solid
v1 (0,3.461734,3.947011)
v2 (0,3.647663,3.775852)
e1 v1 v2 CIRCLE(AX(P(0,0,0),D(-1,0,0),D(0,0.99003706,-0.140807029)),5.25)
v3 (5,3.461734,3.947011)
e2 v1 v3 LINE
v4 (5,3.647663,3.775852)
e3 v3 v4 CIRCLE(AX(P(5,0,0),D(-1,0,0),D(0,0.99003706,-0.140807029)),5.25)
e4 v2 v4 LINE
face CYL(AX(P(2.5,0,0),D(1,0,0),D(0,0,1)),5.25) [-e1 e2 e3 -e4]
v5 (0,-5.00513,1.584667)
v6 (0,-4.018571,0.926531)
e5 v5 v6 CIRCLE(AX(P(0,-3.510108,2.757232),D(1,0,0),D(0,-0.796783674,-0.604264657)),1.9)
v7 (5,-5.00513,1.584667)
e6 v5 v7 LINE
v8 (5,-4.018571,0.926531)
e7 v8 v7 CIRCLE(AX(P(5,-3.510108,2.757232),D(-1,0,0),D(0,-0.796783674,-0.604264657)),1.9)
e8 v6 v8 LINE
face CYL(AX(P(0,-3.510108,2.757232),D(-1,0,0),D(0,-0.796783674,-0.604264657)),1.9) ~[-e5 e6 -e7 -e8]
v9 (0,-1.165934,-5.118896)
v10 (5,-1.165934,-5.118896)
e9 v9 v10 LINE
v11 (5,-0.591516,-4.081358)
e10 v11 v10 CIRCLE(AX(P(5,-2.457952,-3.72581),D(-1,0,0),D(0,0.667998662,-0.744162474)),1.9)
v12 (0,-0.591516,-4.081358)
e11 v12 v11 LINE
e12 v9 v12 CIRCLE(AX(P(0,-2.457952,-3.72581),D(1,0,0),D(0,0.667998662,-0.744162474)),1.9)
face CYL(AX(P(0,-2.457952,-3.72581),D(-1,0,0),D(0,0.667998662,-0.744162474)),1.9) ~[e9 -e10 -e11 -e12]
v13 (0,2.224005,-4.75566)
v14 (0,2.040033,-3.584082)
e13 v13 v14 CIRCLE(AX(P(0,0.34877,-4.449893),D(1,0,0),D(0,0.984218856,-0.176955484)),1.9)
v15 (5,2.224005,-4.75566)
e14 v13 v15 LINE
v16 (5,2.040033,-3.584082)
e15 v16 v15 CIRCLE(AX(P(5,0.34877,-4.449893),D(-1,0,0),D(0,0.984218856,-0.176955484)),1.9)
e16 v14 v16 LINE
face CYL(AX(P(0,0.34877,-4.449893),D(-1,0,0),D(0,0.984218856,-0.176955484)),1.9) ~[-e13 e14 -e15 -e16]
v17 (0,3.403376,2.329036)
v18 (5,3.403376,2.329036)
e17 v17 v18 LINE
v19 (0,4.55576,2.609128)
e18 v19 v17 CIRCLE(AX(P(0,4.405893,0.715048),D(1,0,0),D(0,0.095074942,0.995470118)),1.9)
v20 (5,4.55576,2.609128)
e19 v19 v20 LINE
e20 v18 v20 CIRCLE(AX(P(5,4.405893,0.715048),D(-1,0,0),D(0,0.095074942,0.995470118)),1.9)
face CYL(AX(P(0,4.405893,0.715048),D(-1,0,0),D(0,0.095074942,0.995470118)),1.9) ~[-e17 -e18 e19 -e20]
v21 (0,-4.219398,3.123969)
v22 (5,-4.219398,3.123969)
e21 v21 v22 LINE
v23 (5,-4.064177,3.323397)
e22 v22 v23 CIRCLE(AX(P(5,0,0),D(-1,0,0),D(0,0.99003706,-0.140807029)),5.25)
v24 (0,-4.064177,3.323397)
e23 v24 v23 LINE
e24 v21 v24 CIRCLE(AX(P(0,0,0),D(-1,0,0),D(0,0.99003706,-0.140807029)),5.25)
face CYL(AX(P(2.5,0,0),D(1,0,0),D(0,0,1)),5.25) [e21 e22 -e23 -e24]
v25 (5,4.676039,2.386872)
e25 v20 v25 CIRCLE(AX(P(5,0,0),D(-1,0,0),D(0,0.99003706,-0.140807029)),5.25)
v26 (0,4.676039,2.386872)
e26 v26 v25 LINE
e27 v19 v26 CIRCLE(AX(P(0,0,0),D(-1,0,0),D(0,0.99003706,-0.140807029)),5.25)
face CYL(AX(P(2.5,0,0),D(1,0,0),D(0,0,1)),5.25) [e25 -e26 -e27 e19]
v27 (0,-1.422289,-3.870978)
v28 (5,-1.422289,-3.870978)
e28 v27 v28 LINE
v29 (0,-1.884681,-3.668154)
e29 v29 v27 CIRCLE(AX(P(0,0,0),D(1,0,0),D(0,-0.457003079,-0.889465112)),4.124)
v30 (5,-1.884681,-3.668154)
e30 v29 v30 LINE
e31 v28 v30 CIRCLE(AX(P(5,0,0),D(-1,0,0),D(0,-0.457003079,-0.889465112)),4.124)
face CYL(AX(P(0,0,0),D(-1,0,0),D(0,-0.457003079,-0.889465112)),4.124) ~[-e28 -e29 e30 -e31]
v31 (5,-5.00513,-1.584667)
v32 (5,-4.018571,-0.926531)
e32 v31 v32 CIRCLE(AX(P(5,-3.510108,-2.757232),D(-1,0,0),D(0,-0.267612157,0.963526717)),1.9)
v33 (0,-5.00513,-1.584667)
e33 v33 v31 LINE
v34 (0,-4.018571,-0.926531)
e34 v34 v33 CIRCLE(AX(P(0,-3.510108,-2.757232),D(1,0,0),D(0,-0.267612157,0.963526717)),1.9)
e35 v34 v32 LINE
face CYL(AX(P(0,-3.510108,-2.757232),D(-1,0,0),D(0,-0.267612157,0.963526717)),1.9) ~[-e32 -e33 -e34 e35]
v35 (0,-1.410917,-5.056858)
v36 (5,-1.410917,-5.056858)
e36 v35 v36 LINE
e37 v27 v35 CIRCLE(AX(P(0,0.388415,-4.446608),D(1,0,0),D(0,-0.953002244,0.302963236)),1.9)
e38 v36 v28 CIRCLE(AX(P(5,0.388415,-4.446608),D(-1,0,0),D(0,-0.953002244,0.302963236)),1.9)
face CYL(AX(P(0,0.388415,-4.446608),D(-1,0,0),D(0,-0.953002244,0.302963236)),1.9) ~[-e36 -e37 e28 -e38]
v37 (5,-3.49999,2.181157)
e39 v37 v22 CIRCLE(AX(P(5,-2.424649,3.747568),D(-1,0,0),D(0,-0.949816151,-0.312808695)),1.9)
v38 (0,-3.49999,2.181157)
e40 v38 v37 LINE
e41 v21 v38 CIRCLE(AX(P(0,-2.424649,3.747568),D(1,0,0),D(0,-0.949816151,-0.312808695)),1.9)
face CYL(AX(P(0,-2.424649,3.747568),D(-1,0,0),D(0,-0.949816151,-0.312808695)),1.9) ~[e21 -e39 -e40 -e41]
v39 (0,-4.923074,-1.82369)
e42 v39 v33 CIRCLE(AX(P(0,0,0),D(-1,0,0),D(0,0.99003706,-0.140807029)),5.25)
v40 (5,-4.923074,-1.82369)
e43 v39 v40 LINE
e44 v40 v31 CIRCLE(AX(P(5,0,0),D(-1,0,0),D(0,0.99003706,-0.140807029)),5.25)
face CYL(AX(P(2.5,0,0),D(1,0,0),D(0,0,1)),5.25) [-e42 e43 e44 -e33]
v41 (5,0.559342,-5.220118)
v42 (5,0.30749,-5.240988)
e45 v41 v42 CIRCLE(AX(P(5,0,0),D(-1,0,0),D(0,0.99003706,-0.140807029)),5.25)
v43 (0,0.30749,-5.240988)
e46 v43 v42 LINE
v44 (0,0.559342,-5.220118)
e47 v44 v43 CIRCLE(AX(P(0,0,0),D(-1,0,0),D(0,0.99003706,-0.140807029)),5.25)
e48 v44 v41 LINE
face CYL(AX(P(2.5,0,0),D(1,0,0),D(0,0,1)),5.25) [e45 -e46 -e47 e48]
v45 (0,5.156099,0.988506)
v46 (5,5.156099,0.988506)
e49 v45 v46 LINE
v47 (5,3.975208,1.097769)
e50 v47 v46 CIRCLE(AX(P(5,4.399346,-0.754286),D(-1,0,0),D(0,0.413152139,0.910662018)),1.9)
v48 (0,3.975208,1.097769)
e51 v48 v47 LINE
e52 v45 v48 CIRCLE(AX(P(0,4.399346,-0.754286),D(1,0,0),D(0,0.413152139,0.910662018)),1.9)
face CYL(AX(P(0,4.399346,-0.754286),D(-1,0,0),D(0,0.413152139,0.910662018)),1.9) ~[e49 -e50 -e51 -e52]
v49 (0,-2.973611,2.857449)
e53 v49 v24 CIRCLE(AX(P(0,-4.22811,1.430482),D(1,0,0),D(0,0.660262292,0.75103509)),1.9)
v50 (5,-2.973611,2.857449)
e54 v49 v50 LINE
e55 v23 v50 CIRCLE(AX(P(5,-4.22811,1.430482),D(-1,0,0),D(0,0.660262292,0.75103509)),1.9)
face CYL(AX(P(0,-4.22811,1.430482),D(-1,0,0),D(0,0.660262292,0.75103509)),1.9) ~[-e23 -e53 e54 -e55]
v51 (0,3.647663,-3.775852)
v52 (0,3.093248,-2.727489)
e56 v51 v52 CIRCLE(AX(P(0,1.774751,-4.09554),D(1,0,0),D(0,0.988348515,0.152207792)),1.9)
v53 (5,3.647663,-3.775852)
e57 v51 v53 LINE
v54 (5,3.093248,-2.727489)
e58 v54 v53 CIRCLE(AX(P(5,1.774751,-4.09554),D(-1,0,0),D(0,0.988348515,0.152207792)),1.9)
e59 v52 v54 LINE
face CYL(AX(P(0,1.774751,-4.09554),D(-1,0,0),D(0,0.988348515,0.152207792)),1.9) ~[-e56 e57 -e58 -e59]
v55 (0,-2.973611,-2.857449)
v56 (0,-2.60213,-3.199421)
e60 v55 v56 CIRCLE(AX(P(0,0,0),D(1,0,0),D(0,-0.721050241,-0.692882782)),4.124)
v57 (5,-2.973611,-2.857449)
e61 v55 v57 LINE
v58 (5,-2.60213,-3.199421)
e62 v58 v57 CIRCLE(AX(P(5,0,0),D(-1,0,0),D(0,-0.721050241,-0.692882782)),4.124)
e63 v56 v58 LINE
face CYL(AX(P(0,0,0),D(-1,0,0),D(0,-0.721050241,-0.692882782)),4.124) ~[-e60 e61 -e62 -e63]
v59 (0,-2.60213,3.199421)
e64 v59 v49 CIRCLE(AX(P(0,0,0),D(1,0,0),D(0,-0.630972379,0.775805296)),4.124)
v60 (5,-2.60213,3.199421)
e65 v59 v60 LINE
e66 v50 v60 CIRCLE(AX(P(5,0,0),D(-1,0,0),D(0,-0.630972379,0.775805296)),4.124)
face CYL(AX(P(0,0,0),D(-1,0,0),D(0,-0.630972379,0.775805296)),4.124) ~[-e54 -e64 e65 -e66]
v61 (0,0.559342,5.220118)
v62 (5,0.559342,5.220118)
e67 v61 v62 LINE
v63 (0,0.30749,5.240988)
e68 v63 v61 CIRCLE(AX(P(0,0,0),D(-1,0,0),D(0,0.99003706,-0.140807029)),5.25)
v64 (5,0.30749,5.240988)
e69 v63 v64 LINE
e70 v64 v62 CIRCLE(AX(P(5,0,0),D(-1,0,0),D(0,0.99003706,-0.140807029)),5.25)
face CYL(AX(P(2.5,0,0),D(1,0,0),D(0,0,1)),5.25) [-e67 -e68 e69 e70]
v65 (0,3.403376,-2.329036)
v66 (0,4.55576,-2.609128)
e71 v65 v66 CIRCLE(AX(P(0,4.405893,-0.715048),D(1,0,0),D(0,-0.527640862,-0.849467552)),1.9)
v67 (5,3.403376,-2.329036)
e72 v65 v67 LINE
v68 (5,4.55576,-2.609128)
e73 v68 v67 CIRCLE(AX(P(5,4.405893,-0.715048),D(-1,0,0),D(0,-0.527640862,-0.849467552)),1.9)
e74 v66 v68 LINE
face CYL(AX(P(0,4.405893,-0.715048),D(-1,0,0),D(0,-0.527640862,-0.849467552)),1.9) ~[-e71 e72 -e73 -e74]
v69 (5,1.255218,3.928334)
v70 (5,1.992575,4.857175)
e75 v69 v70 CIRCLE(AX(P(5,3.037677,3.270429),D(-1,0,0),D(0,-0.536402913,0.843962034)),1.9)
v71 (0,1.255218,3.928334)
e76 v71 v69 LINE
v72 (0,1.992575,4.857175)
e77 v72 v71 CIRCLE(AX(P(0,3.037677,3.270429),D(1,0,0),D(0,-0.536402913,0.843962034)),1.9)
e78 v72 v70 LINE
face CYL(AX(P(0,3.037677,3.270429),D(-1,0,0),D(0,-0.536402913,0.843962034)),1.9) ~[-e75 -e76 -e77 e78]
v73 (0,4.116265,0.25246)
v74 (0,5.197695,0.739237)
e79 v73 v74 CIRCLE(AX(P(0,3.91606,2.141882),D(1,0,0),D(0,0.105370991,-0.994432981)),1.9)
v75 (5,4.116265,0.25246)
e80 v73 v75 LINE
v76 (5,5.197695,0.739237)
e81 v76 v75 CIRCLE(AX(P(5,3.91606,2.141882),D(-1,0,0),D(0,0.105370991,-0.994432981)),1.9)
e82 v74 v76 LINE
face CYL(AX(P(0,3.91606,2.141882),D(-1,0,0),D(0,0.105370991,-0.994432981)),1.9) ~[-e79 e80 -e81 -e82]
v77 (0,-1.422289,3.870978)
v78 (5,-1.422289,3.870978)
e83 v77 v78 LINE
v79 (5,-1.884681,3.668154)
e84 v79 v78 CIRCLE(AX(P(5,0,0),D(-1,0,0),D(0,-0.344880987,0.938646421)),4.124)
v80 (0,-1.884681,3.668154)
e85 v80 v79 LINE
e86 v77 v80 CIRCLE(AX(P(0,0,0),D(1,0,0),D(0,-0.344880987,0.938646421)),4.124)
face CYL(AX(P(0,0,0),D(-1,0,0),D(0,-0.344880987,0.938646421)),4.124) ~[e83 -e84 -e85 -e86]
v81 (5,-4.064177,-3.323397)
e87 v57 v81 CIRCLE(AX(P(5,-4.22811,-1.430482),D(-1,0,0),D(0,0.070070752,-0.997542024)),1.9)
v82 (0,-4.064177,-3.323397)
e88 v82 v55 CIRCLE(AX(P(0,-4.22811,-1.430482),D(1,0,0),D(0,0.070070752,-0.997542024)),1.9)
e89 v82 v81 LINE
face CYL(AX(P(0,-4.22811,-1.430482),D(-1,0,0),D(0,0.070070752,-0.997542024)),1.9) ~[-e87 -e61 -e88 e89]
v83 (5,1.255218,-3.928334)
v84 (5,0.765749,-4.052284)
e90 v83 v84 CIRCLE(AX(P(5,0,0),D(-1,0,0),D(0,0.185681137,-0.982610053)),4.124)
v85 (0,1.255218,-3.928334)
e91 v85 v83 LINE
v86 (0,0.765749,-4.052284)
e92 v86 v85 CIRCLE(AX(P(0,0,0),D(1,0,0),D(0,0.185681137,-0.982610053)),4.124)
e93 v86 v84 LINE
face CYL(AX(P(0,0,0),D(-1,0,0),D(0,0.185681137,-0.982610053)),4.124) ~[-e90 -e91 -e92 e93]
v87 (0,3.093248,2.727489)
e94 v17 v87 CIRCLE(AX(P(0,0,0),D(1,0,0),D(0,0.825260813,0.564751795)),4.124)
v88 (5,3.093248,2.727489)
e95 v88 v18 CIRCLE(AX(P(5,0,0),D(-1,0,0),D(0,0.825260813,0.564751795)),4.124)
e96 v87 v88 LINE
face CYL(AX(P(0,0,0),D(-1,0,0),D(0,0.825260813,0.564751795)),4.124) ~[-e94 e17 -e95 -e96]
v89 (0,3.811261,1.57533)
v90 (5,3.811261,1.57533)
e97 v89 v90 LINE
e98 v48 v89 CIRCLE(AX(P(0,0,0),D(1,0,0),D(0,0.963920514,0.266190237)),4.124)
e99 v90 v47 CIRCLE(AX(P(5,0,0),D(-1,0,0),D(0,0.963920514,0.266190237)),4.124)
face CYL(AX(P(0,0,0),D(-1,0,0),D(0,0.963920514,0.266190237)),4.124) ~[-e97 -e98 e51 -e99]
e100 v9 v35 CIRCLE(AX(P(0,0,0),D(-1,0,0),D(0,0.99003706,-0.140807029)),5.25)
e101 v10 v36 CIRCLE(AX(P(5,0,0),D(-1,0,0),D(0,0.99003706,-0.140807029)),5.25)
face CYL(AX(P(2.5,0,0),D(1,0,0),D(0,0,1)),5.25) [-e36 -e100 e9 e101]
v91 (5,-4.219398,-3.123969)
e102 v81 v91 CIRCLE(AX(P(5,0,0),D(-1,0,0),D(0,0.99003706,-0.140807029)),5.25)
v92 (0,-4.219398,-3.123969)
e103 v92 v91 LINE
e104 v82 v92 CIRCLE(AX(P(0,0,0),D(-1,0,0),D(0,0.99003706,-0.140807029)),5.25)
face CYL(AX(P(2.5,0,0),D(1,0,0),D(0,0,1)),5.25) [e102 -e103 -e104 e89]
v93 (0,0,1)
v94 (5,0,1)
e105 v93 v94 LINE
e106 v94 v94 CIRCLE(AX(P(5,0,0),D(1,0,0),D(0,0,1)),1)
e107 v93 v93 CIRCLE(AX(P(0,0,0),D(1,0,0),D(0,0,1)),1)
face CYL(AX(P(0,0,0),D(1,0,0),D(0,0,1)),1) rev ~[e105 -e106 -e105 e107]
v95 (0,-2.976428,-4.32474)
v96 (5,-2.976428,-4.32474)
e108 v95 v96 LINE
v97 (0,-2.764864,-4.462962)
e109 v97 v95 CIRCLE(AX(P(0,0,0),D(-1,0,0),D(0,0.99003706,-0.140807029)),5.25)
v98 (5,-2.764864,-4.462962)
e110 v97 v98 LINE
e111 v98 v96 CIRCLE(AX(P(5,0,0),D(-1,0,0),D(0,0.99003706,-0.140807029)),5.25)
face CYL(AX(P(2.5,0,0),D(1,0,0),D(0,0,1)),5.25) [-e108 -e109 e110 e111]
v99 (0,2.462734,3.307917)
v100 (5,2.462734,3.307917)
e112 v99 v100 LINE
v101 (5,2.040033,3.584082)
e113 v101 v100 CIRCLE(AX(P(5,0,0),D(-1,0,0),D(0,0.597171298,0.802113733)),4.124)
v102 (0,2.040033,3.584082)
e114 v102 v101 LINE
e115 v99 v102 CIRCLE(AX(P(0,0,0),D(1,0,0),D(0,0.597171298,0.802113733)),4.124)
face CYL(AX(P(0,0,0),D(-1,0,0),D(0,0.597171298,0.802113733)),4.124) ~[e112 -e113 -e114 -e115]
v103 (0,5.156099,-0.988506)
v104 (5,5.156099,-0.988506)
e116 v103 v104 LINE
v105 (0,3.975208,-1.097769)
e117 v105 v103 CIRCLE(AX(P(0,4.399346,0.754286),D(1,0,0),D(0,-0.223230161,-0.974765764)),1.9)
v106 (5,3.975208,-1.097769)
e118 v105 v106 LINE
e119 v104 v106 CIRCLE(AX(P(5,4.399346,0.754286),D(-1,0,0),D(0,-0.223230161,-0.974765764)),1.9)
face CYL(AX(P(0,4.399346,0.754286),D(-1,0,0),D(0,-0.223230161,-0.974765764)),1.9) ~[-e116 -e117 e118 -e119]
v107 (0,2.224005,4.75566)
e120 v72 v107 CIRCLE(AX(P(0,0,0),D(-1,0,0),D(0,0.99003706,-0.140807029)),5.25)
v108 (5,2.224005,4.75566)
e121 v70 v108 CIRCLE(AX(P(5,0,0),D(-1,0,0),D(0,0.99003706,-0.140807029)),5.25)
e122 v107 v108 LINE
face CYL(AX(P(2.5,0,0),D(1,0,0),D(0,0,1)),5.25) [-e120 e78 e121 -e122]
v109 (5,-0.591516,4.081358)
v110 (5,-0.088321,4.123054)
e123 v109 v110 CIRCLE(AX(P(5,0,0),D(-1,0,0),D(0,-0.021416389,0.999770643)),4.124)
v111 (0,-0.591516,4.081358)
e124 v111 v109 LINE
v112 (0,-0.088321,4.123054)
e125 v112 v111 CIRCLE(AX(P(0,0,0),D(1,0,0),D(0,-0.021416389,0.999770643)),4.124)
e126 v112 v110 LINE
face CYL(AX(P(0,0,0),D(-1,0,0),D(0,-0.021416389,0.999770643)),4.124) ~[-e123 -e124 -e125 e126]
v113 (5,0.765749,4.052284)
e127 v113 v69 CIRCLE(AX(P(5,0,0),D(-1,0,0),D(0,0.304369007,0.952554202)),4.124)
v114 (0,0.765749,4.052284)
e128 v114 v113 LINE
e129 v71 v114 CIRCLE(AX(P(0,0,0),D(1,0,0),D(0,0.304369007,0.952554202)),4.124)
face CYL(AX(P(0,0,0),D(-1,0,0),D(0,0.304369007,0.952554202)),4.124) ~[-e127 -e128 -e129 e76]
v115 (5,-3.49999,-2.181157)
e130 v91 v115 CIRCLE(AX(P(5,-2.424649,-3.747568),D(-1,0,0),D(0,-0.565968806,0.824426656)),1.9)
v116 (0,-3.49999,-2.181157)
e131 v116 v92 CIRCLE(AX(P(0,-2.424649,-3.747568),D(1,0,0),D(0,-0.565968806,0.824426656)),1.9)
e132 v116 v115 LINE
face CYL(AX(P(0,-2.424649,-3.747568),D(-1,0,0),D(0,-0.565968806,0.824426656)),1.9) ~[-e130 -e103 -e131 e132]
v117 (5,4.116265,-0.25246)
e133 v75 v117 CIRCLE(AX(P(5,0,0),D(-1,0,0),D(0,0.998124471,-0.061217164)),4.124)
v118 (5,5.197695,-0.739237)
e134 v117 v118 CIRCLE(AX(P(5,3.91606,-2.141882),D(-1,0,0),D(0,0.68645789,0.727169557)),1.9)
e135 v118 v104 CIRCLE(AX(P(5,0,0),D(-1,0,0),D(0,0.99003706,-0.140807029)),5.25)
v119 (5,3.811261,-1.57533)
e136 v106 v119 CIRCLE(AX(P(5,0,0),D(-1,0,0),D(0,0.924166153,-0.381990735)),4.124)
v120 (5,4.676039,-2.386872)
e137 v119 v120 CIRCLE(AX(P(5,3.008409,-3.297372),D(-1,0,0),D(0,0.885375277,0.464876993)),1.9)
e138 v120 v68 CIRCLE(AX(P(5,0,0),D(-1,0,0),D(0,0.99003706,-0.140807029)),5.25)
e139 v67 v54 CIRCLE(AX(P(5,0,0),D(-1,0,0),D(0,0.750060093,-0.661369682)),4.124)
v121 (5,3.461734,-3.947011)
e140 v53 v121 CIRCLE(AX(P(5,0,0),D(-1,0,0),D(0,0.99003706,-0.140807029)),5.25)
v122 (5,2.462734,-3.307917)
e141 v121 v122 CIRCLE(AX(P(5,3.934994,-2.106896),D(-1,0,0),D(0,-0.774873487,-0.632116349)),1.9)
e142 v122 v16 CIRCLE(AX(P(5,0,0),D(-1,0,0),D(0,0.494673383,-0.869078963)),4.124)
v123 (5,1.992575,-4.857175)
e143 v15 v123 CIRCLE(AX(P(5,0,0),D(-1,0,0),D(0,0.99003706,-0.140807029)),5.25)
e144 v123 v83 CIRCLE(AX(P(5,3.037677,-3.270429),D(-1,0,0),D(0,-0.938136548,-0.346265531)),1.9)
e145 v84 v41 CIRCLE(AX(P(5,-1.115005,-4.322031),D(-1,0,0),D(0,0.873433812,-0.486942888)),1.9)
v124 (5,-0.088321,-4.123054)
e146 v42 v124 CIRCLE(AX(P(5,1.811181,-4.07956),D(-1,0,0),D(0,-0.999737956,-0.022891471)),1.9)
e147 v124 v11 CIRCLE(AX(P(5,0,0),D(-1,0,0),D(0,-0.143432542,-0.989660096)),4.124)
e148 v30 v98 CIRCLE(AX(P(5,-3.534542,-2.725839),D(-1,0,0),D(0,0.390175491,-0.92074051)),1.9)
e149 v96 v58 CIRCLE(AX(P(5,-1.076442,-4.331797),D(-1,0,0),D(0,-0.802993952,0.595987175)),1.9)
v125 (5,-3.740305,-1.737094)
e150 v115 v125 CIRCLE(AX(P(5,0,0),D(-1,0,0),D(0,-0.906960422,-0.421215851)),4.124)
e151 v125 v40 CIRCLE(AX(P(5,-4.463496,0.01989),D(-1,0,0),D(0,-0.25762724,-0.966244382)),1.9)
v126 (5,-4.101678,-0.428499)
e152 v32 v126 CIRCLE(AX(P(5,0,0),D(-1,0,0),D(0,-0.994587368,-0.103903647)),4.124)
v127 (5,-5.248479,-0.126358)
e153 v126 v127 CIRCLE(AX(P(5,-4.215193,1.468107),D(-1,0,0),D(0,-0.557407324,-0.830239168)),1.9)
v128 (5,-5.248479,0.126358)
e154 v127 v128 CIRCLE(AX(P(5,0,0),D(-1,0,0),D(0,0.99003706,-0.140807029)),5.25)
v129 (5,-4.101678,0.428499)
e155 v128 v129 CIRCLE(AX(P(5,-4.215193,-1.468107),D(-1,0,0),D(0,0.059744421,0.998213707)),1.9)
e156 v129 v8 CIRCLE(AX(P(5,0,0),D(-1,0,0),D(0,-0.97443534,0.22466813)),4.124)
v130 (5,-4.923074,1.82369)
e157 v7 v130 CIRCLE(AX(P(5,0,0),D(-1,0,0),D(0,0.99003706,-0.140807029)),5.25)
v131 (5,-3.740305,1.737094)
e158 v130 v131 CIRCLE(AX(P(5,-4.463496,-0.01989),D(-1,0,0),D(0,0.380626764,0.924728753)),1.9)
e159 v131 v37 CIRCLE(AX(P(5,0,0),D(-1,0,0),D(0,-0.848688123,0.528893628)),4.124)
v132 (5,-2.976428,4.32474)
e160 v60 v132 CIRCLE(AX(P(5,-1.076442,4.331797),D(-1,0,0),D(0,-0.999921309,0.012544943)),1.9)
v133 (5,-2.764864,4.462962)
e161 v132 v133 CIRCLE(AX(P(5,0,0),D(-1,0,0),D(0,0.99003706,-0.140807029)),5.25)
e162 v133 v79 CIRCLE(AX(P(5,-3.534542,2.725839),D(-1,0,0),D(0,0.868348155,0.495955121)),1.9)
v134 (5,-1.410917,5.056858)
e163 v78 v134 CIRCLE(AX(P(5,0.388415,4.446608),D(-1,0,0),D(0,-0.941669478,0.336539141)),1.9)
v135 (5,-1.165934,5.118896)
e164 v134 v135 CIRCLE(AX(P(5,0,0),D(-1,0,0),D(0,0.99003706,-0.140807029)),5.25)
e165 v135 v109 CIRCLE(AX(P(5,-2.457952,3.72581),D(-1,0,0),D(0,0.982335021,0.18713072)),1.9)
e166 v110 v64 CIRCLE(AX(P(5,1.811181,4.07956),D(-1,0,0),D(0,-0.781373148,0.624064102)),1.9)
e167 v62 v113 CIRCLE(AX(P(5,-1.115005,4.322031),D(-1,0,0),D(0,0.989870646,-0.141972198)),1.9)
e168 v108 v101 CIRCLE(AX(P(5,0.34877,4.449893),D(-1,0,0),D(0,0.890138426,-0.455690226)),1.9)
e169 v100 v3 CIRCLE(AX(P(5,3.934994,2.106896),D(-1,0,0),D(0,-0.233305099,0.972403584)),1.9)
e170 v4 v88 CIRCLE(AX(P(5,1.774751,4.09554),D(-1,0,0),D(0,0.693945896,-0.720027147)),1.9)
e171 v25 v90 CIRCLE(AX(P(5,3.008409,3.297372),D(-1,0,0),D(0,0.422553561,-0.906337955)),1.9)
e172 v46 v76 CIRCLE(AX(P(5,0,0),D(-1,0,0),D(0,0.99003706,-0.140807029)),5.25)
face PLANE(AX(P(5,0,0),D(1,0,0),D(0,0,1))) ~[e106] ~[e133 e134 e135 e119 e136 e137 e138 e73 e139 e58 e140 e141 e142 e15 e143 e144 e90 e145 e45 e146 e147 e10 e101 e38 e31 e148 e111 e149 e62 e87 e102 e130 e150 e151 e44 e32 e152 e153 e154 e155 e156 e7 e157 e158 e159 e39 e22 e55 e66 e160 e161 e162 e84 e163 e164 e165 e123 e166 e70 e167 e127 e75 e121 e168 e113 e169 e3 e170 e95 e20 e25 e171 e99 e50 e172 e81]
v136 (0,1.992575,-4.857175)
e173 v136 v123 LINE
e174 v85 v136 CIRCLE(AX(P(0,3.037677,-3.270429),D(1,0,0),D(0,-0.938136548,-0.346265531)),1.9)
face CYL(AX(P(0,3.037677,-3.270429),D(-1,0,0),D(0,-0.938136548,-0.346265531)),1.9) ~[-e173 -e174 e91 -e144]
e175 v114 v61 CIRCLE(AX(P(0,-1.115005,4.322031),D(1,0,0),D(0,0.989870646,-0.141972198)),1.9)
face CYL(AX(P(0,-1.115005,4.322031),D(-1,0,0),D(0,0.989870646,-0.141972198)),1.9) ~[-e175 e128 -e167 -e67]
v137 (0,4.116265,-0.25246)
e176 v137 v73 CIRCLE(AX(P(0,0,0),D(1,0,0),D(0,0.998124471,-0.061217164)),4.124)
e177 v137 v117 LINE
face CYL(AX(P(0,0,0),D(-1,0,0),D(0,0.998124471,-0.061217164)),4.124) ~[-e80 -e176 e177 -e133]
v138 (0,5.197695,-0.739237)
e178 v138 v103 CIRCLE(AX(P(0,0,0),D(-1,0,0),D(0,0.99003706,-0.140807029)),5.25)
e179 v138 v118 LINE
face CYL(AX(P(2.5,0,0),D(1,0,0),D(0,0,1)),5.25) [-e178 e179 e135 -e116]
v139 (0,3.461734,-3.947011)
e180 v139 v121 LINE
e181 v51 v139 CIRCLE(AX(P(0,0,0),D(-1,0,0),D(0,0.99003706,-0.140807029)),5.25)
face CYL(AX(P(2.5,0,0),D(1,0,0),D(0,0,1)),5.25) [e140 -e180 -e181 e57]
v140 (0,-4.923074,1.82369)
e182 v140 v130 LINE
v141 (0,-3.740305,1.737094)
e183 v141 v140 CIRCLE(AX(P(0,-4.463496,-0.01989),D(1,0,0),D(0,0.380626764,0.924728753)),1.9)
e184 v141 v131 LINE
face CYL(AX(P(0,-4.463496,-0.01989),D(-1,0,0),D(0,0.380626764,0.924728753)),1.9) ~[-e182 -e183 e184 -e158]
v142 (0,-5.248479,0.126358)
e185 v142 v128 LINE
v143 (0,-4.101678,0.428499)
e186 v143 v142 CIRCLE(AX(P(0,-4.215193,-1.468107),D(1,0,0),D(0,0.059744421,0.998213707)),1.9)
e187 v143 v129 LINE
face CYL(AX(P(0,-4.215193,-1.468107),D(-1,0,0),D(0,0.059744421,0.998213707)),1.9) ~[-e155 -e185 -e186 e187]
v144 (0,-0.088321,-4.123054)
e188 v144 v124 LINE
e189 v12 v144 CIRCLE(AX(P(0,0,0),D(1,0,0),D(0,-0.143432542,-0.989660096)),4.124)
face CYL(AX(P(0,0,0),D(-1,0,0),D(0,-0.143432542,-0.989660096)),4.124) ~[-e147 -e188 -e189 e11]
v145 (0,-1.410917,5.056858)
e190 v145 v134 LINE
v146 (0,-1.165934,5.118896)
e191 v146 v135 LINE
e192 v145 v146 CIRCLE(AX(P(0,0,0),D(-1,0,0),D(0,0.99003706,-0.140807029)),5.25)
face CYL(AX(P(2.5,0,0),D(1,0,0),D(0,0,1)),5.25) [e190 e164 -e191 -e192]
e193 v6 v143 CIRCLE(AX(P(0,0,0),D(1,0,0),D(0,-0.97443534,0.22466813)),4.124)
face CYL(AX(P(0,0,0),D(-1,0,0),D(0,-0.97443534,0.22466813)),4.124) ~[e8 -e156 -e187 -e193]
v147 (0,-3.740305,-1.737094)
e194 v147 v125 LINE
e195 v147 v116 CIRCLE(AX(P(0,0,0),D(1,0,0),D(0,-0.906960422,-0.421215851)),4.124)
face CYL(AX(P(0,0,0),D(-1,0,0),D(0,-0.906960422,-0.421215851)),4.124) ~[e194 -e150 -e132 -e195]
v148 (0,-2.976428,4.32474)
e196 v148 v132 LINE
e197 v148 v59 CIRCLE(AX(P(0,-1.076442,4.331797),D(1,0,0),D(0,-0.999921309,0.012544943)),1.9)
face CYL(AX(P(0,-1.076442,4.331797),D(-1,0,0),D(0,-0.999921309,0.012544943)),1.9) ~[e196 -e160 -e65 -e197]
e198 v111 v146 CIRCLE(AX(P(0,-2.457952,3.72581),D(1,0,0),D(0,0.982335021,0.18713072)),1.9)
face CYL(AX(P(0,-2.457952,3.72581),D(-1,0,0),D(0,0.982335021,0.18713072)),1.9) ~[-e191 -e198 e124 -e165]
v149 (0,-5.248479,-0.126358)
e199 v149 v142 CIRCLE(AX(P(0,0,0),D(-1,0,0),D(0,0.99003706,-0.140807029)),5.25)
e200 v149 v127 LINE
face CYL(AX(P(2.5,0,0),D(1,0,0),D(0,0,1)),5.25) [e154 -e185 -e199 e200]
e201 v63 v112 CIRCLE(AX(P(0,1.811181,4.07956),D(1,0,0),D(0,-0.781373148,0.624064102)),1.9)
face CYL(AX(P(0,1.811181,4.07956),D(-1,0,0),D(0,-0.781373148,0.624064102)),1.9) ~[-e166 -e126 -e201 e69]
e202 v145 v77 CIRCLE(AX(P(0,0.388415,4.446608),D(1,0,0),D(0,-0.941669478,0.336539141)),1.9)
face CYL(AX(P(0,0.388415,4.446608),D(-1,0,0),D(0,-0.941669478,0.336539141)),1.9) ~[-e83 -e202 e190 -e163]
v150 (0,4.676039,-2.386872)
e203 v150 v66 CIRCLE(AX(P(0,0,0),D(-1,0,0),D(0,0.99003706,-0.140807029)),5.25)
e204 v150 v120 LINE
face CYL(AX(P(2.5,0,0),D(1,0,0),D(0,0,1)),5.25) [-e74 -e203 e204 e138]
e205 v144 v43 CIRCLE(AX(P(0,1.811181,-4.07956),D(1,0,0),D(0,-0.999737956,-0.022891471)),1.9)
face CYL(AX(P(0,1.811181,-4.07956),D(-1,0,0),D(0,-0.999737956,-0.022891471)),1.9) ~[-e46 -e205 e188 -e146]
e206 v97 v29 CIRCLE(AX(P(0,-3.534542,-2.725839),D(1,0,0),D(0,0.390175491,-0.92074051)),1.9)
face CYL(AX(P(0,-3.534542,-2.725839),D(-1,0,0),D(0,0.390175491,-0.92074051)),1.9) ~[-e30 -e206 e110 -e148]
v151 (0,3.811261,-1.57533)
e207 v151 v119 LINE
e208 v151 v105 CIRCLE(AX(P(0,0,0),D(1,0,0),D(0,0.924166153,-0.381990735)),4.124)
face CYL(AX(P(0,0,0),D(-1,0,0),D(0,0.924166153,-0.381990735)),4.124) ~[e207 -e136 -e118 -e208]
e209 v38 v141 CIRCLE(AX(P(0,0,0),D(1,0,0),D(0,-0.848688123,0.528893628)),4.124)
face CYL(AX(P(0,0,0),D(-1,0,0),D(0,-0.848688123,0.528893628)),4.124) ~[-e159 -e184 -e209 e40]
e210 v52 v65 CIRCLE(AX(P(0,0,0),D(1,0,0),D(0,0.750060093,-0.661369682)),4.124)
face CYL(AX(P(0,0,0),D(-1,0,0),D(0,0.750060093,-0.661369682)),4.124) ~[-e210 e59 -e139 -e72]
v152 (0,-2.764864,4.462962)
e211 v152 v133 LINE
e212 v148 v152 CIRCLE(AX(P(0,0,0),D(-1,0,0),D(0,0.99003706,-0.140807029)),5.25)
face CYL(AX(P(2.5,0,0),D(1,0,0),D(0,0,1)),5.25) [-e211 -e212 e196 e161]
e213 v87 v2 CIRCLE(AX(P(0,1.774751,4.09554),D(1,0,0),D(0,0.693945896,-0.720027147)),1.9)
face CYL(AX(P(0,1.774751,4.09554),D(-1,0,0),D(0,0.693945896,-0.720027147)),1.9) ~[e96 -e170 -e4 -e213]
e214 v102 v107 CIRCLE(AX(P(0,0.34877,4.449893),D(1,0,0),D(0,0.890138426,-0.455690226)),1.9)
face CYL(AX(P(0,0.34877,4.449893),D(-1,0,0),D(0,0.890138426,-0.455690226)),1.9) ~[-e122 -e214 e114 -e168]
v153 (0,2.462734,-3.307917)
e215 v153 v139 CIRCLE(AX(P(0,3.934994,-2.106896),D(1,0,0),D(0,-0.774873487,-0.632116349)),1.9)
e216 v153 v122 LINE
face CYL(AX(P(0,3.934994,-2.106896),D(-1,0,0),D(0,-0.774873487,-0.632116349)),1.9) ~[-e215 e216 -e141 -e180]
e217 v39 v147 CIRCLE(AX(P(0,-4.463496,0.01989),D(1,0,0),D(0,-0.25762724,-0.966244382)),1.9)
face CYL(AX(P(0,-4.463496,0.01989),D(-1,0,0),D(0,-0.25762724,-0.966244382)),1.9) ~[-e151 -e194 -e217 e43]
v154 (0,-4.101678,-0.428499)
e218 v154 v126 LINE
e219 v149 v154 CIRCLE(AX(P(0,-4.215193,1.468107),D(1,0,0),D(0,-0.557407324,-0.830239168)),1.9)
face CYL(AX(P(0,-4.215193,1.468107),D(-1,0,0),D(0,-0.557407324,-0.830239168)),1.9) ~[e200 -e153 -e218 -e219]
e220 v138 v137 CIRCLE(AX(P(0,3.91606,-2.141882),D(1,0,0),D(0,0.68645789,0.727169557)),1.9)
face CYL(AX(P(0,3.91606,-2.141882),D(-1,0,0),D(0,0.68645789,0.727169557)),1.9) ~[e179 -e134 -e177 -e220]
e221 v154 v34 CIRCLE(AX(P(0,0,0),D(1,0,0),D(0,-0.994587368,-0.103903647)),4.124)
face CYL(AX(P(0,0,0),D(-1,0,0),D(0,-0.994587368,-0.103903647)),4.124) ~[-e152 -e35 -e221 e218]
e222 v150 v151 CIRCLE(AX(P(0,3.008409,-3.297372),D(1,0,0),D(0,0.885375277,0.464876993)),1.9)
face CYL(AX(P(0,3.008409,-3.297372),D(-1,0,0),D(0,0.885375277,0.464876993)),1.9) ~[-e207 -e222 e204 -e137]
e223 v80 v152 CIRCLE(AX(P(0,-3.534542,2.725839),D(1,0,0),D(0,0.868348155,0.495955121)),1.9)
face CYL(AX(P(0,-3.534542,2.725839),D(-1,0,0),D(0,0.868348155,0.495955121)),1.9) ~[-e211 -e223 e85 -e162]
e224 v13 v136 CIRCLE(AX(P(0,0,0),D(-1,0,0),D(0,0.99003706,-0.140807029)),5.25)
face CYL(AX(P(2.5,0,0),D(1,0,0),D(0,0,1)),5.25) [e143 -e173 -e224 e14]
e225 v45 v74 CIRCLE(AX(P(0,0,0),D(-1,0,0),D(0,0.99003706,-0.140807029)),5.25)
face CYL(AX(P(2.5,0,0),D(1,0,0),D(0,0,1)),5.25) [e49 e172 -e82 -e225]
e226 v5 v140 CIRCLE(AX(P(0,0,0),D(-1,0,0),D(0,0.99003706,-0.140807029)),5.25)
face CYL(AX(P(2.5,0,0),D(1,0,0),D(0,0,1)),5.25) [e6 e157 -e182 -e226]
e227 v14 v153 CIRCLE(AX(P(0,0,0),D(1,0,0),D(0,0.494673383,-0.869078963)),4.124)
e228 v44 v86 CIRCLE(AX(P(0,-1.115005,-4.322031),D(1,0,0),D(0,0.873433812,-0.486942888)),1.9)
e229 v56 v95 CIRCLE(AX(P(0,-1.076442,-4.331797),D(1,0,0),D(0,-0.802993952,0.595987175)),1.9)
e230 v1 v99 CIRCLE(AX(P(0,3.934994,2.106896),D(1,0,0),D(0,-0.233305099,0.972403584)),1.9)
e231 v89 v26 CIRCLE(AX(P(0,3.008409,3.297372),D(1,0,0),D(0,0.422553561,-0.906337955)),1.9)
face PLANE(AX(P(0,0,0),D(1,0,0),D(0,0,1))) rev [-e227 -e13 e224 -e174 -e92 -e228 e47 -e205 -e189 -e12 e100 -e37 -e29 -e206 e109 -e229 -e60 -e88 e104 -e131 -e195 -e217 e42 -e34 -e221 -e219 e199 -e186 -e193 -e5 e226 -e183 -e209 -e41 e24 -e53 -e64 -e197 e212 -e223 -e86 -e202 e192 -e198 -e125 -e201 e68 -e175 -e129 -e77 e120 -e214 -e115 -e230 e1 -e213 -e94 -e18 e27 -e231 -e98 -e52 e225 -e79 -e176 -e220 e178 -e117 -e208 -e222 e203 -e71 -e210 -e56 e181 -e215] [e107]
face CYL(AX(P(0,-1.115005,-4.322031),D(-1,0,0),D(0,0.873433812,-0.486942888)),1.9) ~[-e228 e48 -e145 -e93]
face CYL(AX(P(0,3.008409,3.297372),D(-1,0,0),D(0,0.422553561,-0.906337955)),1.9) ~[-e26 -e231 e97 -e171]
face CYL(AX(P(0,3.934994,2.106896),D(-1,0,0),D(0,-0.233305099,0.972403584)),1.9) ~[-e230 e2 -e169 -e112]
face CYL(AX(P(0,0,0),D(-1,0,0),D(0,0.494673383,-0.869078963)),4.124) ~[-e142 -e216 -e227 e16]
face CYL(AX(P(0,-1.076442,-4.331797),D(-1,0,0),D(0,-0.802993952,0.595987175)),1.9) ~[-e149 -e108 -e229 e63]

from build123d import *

# Parameters (mm, degrees)
BASPROSKE_W     = 5
BASPROSKE_H     = 5.25
TOOTHCUT_DEPTH  = 9.951256895
TEETHCUTS_COUNT = 19
TEETHCUTS_ANGLE = 341.052631579
BORSKE_R        = 1
BORE_DEPTH      = 50.0000508


with BuildPart() as part:
    # BasProSke → Base-Revolve (revolve)
    with BuildSketch(Plane(origin=(0, 0, 0), x_dir=(1, 0, 0), z_dir=(0, 1, 0)), mode=Mode.PRIVATE) as base_revolve_sk:
        with Locations((2.5, 2.625)):
            Rectangle(BASPROSKE_W, BASPROSKE_H)
    revolve(base_revolve_sk.sketch.rotate(Axis((-10, 0, 0), (1, 0, 0)), 180), axis=Axis((-10, 0, 0), (1, 0, 0)))

    # TooCutSke → ToothCut (cut, through all)
    with BuildSketch(Plane(origin=(0, 0, 0), x_dir=(0, 0, -1), z_dir=(1, 0, 0))):
        with BuildLine():
            ThreePointArc((0.252459579, 4.116265317), (0, 4.124), (-0.252459579, 4.116265317))
            ThreePointArc((-0.252459579, 4.116265317), (-0.415709164, 4.709991477), (-0.760260085, 5.220330427))
            ThreePointArc((-0.760260085, 5.220330427), (0, 5.2754), (0.760260085, 5.220330427))
            ThreePointArc((0.760260085, 5.220330427), (0.415709164, 4.709991477), (0.252459579, 4.116265317))
        make_face()
    toothcut = extrude(amount=TOOTHCUT_DEPTH, mode=Mode.SUBTRACT)

    # TeethCuts: ToothCut ×19 about axis
    teethcuts_axis = Axis((-10, 0, 0), (1, 0, 0))
    for i in range(1, TEETHCUTS_COUNT):
        add(toothcut.rotate(teethcuts_axis, i * TEETHCUTS_ANGLE / (TEETHCUTS_COUNT - 1)), mode=Mode.SUBTRACT)

    # BorSke → Bore (cut, symmetric)
    with BuildSketch(Plane(origin=(0, 0, 0), x_dir=(0, 0, -1), z_dir=(1, 0, 0))):
        with Locations(Location((0, 0, 0), (0, 0, 180))):
            Circle(BORSKE_R)
    extrude(amount=BORE_DEPTH, both=True, mode=Mode.SUBTRACT)


solid = part.part
